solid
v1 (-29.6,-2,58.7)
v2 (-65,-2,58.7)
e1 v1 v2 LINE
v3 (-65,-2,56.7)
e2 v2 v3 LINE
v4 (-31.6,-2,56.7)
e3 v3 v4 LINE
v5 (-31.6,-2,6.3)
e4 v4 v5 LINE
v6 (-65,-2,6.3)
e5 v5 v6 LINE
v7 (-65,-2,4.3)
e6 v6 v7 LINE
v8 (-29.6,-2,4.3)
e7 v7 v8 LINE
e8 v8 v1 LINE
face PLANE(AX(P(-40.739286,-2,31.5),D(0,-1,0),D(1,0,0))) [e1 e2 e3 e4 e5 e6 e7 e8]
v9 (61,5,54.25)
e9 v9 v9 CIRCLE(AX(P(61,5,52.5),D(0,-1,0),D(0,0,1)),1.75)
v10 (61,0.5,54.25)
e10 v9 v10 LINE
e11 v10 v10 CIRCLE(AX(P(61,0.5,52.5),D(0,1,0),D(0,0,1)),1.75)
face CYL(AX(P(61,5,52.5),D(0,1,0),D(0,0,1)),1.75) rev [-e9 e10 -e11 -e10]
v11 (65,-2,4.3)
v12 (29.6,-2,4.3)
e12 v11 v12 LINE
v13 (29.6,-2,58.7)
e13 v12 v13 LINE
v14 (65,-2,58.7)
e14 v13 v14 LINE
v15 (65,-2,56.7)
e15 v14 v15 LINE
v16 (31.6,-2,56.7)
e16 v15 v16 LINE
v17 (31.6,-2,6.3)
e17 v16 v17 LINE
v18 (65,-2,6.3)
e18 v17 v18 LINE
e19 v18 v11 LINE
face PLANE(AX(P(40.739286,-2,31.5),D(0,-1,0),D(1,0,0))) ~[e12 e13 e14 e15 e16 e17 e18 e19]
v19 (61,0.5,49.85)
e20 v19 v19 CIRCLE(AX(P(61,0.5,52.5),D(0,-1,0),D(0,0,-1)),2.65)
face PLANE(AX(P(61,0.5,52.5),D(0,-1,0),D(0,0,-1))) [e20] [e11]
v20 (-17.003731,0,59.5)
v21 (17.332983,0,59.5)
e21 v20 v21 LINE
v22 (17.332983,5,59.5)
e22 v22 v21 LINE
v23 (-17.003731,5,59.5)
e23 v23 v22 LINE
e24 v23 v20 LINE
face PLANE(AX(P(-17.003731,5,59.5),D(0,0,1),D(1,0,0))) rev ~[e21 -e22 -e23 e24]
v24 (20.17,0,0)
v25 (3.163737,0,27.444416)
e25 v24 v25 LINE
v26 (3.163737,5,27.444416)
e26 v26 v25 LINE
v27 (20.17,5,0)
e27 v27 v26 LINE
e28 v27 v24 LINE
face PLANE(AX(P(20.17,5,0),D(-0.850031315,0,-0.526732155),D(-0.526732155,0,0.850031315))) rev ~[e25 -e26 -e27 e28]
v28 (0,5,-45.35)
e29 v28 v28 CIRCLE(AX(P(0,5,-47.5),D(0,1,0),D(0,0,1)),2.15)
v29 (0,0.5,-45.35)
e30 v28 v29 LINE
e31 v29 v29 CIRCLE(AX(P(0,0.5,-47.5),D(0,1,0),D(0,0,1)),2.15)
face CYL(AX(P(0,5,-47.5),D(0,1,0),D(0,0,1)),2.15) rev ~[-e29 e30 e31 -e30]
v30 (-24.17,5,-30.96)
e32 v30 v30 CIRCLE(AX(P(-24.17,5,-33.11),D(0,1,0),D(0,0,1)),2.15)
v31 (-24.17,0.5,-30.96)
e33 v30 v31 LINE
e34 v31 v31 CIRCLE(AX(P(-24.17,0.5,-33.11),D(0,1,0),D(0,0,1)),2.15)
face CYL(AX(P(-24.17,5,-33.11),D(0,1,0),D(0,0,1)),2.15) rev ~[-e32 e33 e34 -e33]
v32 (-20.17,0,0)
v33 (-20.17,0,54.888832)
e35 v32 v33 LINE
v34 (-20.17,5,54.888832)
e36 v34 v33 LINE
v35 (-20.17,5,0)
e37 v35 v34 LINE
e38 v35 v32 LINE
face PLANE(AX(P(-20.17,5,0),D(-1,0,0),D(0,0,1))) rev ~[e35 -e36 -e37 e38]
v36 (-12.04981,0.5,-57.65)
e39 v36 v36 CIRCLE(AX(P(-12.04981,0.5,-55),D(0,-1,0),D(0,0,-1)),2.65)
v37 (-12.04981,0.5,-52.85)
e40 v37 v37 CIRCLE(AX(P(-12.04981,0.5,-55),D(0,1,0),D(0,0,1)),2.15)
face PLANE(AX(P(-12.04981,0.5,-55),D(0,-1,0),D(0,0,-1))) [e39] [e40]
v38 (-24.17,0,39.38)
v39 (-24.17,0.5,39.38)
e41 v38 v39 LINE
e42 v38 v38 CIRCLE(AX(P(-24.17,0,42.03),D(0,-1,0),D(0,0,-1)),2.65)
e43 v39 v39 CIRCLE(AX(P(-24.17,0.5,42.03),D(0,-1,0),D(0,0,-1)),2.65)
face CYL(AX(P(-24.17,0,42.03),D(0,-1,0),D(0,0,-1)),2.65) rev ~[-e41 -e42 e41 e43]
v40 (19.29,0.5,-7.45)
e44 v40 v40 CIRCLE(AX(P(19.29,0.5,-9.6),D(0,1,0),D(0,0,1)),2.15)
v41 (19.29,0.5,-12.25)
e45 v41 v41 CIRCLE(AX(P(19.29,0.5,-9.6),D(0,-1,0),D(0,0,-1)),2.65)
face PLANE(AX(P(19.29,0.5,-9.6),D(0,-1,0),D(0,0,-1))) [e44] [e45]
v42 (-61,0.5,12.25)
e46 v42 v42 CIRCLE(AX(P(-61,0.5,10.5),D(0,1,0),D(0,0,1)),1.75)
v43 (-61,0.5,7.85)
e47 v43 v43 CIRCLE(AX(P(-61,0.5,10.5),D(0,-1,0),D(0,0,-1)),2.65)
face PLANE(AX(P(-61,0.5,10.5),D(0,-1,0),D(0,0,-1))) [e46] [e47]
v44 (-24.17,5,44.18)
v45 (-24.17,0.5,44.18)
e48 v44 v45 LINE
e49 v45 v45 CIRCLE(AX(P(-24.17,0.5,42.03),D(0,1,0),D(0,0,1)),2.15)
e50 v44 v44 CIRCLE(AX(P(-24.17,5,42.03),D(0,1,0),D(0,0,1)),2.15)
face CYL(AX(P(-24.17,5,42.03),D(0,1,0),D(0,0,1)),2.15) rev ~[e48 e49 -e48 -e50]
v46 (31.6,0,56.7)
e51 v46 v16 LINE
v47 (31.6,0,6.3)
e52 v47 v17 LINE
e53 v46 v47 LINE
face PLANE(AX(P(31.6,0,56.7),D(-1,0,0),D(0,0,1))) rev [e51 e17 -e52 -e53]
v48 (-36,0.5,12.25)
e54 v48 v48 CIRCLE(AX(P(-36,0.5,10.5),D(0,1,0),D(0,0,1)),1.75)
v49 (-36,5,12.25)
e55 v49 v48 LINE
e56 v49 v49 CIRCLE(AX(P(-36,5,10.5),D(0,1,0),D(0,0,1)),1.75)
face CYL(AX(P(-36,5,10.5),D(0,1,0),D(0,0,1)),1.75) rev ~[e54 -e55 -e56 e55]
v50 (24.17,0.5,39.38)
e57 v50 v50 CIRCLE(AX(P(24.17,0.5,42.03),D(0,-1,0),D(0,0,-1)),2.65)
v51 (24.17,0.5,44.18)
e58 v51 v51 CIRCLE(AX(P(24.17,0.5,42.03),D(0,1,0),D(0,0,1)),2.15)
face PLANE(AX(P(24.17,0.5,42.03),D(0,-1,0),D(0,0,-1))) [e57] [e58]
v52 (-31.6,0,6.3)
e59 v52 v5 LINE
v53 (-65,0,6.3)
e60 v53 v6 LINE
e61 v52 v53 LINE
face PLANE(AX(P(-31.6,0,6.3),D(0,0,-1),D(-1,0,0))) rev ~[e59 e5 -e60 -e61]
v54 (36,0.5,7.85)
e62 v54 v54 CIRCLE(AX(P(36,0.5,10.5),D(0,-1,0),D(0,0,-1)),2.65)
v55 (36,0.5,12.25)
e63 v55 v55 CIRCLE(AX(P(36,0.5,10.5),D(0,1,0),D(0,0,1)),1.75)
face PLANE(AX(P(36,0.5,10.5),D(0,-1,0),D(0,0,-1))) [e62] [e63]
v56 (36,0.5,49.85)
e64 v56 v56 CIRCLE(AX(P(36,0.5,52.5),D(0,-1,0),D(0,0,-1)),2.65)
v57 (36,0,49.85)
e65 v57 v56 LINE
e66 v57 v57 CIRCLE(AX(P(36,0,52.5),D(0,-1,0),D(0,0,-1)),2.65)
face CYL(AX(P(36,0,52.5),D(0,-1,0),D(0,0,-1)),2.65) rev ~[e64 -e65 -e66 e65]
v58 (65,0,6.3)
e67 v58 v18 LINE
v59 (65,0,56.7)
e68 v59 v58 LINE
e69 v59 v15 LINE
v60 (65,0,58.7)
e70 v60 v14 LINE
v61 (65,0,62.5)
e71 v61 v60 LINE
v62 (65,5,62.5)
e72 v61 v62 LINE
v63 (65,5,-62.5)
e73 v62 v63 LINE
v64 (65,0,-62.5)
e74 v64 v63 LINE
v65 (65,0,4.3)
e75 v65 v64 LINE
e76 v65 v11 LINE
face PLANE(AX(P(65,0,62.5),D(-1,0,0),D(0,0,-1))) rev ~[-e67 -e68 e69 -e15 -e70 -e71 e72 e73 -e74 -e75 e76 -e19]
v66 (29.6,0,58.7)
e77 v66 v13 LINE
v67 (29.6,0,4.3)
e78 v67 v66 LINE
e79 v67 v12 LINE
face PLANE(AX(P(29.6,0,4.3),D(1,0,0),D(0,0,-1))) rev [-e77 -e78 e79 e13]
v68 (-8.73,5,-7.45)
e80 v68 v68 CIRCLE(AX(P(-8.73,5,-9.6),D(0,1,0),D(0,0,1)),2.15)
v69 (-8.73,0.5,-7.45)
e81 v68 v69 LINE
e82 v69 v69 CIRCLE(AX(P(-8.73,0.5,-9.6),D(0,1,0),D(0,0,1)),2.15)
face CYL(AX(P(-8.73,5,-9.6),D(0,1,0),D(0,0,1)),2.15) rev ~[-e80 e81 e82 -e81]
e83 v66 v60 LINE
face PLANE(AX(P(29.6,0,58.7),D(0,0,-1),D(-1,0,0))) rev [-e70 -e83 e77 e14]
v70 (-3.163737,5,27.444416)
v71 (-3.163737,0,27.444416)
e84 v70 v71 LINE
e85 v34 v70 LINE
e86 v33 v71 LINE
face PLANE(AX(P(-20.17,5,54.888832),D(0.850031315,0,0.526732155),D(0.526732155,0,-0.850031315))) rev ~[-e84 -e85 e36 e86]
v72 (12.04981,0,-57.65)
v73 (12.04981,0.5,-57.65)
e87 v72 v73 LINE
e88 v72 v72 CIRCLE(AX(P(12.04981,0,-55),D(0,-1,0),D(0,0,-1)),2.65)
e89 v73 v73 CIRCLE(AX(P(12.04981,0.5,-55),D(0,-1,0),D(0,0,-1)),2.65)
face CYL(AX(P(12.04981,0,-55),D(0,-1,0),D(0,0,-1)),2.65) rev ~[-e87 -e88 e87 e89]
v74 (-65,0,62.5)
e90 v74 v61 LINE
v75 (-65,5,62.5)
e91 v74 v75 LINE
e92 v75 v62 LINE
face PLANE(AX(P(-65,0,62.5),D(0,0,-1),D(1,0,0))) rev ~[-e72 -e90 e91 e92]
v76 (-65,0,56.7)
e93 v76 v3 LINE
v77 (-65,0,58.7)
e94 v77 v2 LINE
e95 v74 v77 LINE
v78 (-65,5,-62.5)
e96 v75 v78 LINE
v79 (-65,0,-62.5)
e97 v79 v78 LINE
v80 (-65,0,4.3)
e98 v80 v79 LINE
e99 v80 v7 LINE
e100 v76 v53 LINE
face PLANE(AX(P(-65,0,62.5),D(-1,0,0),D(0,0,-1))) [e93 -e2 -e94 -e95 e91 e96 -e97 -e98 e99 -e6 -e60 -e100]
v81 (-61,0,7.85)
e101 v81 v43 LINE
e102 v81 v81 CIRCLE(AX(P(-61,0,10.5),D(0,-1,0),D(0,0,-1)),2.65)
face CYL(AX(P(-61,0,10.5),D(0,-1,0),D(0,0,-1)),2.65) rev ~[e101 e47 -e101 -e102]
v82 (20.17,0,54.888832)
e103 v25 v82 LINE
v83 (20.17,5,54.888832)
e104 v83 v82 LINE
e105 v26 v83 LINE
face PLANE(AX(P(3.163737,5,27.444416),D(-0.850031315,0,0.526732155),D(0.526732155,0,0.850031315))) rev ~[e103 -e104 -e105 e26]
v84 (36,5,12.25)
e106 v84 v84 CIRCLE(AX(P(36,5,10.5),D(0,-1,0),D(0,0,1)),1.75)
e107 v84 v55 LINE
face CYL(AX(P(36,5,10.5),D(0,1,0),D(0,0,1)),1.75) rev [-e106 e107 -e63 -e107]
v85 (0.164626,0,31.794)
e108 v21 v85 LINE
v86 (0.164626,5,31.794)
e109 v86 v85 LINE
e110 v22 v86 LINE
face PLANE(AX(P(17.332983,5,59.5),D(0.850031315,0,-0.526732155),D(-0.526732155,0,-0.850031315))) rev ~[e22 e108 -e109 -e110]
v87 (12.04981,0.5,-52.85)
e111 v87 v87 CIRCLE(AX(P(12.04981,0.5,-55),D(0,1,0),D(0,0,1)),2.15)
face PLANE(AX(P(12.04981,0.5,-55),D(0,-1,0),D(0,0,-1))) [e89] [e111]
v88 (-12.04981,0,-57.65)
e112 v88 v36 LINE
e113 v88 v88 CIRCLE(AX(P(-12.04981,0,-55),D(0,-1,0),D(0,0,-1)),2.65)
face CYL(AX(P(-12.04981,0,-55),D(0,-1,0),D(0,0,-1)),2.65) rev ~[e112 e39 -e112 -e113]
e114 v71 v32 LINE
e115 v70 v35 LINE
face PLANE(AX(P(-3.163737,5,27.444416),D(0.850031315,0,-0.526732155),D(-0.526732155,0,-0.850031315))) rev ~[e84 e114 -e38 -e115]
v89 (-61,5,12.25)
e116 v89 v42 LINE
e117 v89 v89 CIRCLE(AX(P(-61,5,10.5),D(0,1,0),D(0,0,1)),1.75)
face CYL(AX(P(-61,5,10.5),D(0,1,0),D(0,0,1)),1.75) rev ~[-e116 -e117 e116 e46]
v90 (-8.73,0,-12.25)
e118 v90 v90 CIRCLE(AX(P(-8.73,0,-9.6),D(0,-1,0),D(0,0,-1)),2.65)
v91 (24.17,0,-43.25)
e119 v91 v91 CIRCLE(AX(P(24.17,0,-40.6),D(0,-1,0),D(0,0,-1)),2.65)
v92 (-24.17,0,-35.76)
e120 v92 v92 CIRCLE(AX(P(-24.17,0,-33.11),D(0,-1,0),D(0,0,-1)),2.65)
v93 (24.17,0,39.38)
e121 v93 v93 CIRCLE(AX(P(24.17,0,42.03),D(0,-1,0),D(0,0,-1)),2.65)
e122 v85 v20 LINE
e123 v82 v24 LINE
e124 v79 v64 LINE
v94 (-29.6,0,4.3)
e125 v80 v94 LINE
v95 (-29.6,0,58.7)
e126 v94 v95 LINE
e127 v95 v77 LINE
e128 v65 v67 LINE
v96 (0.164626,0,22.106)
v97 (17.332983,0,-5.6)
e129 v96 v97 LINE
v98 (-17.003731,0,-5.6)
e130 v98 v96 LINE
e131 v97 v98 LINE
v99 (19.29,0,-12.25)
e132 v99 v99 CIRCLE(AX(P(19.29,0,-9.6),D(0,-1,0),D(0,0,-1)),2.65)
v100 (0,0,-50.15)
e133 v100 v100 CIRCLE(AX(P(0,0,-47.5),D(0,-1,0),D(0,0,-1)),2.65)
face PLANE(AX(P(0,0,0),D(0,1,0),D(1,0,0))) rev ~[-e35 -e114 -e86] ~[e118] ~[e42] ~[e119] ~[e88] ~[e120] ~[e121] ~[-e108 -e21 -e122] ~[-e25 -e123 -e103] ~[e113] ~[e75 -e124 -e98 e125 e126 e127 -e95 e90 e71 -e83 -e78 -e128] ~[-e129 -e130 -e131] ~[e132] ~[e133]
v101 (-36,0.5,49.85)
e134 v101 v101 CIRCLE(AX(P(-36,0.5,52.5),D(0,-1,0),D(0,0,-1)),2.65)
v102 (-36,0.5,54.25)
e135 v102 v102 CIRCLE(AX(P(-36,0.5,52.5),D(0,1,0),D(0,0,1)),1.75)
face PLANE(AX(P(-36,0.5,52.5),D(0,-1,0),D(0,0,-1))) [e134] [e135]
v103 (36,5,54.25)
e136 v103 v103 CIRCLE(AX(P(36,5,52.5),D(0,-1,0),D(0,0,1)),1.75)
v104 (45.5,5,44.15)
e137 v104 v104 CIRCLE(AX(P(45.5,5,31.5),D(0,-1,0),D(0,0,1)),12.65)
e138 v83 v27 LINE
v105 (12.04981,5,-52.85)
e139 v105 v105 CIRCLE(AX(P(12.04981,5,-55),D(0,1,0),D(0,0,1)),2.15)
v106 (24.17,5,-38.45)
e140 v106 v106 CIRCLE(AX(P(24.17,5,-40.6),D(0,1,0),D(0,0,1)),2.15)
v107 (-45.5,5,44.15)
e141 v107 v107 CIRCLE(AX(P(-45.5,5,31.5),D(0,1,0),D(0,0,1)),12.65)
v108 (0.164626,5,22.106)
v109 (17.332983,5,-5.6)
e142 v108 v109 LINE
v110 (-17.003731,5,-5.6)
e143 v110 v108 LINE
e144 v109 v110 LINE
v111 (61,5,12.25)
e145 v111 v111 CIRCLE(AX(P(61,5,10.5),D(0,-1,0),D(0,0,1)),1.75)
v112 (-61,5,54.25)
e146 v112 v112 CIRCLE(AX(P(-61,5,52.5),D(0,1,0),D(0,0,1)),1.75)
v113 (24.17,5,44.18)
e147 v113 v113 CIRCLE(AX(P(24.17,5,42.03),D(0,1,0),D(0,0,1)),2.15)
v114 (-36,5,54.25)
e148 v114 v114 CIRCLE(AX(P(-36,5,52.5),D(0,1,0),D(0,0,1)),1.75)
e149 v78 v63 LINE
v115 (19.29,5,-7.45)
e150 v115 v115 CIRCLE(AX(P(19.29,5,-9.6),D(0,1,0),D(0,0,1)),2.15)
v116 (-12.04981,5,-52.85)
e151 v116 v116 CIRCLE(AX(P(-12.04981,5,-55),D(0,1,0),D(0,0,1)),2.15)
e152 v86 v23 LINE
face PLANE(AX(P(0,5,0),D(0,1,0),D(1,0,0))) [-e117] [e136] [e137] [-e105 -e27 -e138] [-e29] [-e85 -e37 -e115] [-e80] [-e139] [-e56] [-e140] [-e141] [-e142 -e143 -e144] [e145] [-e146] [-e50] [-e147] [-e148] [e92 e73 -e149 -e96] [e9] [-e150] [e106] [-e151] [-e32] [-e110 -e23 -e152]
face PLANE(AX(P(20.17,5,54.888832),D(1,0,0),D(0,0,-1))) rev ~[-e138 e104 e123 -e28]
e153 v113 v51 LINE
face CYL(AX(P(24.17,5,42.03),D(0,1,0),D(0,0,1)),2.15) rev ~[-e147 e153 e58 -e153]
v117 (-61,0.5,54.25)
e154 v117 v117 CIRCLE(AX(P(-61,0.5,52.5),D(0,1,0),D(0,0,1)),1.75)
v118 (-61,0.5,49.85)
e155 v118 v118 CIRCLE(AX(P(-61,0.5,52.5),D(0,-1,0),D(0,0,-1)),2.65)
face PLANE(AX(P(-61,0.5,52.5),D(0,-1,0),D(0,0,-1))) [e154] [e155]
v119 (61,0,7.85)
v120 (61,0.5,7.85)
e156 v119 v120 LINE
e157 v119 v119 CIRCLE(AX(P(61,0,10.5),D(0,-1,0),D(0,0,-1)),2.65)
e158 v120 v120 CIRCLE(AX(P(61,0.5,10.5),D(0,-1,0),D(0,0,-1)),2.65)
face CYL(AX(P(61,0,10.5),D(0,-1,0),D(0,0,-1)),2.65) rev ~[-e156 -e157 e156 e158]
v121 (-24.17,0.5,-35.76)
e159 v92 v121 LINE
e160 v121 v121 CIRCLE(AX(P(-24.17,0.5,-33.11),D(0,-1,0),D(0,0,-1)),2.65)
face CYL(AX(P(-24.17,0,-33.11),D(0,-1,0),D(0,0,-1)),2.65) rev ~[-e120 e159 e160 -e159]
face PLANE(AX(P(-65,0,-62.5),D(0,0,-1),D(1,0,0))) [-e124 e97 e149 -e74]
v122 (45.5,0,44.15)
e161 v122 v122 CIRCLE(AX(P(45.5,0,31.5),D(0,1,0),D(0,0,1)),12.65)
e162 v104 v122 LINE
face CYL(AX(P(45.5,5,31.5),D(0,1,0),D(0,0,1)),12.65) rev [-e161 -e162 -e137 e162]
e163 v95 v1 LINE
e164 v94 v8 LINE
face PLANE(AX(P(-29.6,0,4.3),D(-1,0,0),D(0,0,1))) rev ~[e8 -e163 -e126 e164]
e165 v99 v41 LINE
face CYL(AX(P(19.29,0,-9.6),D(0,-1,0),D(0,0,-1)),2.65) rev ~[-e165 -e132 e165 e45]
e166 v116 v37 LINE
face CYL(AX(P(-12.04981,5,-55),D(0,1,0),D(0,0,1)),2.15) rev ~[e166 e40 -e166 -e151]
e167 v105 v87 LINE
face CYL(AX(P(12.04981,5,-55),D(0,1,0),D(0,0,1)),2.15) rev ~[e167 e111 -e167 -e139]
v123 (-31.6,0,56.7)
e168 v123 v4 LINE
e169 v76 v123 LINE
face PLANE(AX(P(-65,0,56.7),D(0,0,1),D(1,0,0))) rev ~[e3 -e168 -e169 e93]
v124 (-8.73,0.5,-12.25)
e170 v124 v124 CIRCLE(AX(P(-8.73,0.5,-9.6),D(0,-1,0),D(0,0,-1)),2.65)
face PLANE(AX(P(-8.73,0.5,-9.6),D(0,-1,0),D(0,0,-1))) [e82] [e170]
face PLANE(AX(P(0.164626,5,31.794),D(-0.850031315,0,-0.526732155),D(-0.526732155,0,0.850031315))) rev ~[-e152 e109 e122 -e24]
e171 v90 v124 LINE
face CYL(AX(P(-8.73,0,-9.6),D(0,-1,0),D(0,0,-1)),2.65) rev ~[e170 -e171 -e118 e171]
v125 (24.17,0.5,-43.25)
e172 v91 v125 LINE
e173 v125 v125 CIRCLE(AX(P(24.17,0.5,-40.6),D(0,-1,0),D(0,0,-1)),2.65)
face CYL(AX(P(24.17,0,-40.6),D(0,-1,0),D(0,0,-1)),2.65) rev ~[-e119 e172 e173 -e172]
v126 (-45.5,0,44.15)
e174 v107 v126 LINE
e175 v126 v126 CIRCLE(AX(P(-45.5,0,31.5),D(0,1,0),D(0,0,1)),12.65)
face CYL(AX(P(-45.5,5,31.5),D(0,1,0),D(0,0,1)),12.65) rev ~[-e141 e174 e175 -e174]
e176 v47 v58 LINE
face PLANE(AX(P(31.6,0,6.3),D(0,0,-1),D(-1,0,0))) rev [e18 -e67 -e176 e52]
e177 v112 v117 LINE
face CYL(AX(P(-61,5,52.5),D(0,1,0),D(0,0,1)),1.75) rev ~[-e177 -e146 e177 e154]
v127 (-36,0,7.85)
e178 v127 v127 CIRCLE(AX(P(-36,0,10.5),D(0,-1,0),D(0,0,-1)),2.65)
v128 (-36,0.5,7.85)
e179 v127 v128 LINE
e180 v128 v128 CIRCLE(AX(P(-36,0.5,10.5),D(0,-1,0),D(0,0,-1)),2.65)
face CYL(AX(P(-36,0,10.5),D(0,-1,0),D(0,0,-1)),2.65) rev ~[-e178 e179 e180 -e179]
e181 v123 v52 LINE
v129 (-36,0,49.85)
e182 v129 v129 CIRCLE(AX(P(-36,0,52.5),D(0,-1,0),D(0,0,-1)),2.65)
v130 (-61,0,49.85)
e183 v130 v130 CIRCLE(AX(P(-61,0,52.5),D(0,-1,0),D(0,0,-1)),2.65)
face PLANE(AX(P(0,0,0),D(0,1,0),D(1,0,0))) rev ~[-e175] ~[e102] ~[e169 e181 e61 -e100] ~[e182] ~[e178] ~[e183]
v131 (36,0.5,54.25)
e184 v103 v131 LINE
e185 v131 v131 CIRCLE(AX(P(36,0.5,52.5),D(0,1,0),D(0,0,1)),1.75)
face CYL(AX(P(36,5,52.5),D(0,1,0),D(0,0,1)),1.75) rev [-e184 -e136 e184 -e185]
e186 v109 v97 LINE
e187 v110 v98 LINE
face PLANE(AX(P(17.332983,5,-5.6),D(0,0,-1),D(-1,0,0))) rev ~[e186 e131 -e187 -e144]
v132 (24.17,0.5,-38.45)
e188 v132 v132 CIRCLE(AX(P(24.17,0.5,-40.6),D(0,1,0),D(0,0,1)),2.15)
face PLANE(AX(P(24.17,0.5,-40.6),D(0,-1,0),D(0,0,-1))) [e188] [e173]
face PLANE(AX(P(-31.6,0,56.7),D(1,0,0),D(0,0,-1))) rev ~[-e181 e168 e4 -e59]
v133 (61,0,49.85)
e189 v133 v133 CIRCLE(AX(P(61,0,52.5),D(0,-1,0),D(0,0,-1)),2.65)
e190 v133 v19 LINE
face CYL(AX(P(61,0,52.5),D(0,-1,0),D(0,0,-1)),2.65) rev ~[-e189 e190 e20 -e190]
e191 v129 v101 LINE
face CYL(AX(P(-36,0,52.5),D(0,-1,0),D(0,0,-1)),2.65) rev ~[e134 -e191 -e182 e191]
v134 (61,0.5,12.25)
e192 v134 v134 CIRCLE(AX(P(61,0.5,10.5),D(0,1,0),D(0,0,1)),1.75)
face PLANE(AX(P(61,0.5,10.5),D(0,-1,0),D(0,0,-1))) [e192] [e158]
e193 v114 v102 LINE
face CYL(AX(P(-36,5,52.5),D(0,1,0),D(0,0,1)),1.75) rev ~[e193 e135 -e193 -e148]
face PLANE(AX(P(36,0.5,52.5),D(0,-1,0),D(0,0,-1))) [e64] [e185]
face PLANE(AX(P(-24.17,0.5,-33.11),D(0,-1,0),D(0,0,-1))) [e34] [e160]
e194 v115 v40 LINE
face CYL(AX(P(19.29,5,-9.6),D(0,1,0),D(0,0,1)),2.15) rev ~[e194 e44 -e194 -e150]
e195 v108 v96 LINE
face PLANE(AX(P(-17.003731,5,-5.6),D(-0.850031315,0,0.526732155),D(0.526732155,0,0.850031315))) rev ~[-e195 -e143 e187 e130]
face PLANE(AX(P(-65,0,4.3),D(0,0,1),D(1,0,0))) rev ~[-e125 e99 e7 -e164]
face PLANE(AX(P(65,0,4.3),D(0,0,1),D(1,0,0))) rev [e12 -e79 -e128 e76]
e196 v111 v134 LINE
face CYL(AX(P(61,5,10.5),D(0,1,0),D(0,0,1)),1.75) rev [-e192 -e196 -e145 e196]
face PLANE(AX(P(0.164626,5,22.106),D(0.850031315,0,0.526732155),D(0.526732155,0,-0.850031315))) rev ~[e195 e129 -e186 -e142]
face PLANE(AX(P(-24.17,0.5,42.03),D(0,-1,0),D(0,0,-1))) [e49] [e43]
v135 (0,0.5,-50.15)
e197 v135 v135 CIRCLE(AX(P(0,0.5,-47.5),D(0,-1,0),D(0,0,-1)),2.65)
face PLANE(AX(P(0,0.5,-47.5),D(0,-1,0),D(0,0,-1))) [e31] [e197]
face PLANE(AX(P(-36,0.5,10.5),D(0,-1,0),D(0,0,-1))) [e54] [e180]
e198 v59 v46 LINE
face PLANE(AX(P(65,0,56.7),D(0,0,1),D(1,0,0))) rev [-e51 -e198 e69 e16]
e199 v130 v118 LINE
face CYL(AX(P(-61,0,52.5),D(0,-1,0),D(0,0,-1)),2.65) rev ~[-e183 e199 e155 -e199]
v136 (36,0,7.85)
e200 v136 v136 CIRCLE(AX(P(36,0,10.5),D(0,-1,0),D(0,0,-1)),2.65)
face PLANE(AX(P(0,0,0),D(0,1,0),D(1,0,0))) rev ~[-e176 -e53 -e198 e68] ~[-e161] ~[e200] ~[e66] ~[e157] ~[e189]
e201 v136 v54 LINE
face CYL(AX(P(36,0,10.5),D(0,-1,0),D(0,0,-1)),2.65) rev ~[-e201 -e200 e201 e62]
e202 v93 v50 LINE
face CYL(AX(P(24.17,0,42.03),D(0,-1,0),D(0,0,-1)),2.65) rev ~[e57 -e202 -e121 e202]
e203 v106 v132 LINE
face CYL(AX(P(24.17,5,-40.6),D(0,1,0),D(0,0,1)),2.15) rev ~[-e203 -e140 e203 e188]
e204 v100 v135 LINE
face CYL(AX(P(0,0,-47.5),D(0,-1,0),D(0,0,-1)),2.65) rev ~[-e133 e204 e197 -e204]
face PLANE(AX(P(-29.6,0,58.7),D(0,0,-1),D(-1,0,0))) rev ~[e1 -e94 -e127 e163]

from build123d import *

# Parameters (mm, degrees)
SKETCH1_W           = 130
SKETCH1_H           = 125
BOSS_EXTRUDE1_DEPTH = 5
SKETCH2_R           = 1.75
SKETCH2_R_2         = 12.65
CUT_EXTRUDE1_DEPTH  = 10
SKETCH3_R           = 2.15
CUT_EXTRUDE2_DEPTH  = 10
SKETCH4_R           = 2.15
CUT_EXTRUDE3_DEPTH  = 10
BOSS_EXTRUDE2_DEPTH = 2
SKETCH6_R           = 2.65
CUT_EXTRUDE5_DEPTH  = 0.5
CUT_EXTRUDE7_DEPTH  = 91.444734507


with BuildPart() as part:
    # Sketch1 → Boss-Extrude1 (new body)
    with BuildSketch(Plane(origin=(0, 0, 0), x_dir=(1, 0, 0), z_dir=(0, 1, 0))):
        Rectangle(SKETCH1_W, SKETCH1_H)
    extrude(amount=BOSS_EXTRUDE1_DEPTH)

    # Sketch2 → Cut-Extrude1 (cut)
    with BuildSketch(Plane(origin=(0, 5, 0), x_dir=(1, 0, 0), z_dir=(0, 1, 0))):
        with Locations(Location((-61, -52.5, 0), (0, 0, 270))):
            Circle(SKETCH2_R)
        with Locations(Location((-36, -52.5, 0), (0, 0, 270))):
            Circle(SKETCH2_R)
        with Locations(Location((-36, -10.5, 0), (0, 0, 270))):
            Circle(SKETCH2_R)
        with Locations(Location((-61, -10.5, 0), (0, 0, 270))):
            Circle(SKETCH2_R)
        with Locations(Location((-45.5, -31.5, 0), (0, 0, 270))):
            Circle(SKETCH2_R_2)
    cut_extrude1 = extrude(amount=-CUT_EXTRUDE1_DEPTH, mode=Mode.SUBTRACT)

    # Mirror3: Cut-Extrude1 across plane
    add(cut_extrude1.mirror(Plane.ZY), mode=Mode.SUBTRACT)

    # Sketch3 → Cut-Extrude2 (cut)
    with BuildSketch(Plane(origin=(0, 5, 0), x_dir=(1, 0, 0), z_dir=(0, 1, 0))):
        with Locations(Location((-24.17, -42.03, 0), (0, 0, 270))):
            Circle(SKETCH3_R)
        with Locations(Location((24.17, -42.03, 0), (0, 0, 270))):
            Circle(SKETCH3_R)
        with Locations(Location((-8.73, 9.6, 0), (0, 0, 270))):
            Circle(SKETCH3_R)
        with Locations(Location((19.29, 9.6, 0), (0, 0, 270))):
            Circle(SKETCH3_R)
        with Locations(Location((-24.17, 33.11, 0), (0, 0, 270))):
            Circle(SKETCH3_R)
        with Locations(Location((24.17, 40.6, 0), (0, 0, 270))):
            Circle(SKETCH3_R)
    extrude(amount=-CUT_EXTRUDE2_DEPTH, mode=Mode.SUBTRACT)

    # Sketch4 → Cut-Extrude3 (cut)
    with BuildSketch(Plane(origin=(0, 5, 0), x_dir=(1, 0, 0), z_dir=(0, 1, 0))):
        with Locations(Location((0, 47.5, 0), (0, 0, 270))):
            Circle(SKETCH4_R)
        with Locations(Location((12.049810205, 55, 0), (0, 0, 270))):
            Circle(SKETCH4_R)
        with Locations(Location((-12.049810205, 55, 0), (0, 0, 270))):
            Circle(SKETCH4_R)
    extrude(amount=-CUT_EXTRUDE3_DEPTH, mode=Mode.SUBTRACT)

    # Sketch5 → Boss-Extrude2 (add)
    with BuildSketch(Plane.XZ):
        Polygon((-65, 58.7), (-65, 56.7), (-31.6, 56.7), (-31.6, 6.3), (-65, 6.3), (-65, 4.3), (-29.6, 4.3), (-29.6, 58.7), align=None)
    boss_extrude2 = extrude(amount=BOSS_EXTRUDE2_DEPTH)

    # Mirror6: Boss-Extrude2 across plane
    add(boss_extrude2.mirror(Plane.ZY))

    # Sketch6 → Cut-Extrude5 (cut)
    with BuildSketch(Plane.XZ):
        with Locations(Location((-8.73, -9.6, 0), (0, 0, 270))):
            Circle(SKETCH6_R)
        with Locations(Location((19.29, -9.6, 0), (0, 0, 270))):
            Circle(SKETCH6_R)
        with Locations(Location((-24.17, -33.11, 0), (0, 0, 270))):
            Circle(SKETCH6_R)
        with Locations(Location((24.17, -40.6, 0), (0, 0, 270))):
            Circle(SKETCH6_R)
        with Locations(Location((0, -47.5, 0), (0, 0, 270))):
            Circle(SKETCH6_R)
        with Locations(Location((-12.049810205, -55, 0), (0, 0, 270))):
            Circle(SKETCH6_R)
        with Locations(Location((12.049810205, -55, 0), (0, 0, 270))):
            Circle(SKETCH6_R)
        with Locations(Location((-61, 10.5, 0), (0, 0, 270))):
            Circle(SKETCH6_R)
        with Locations(Location((-36, 10.5, 0), (0, 0, 270))):
            Circle(SKETCH6_R)
        with Locations(Location((-36, 52.5, 0), (0, 0, 270))):
            Circle(SKETCH6_R)
        with Locations(Location((-61, 52.5, 0), (0, 0, 270))):
            Circle(SKETCH6_R)
        with Locations(Location((36, 52.5, 0), (0, 0, 270))):
            Circle(SKETCH6_R)
        with Locations(Location((36, 10.5, 0), (0, 0, 270))):
            Circle(SKETCH6_R)
        with Locations(Location((61, 10.5, 0), (0, 0, 270))):
            Circle(SKETCH6_R)
        with Locations(Location((61, 52.5, 0), (0, 0, 270))):
            Circle(SKETCH6_R)
        with Locations(Location((-24.17, 42.03, 0), (0, 0, 270))):
            Circle(SKETCH6_R)
        with Locations(Location((24.17, 42.03, 0), (0, 0, 270))):
            Circle(SKETCH6_R)
    extrude(amount=-CUT_EXTRUDE5_DEPTH, mode=Mode.SUBTRACT)

    # Sketch7 → Cut-Extrude7 (cut, through all)
    with BuildSketch(Plane(origin=(0, 5, 0), x_dir=(1, 0, 0), z_dir=(0, 1, 0))):
        Polygon((-3.163736655, -27.444416058), (-20.17, 0), (-20.17, -54.888832116), align=None)
        Polygon((17.332982786, 5.6), (-17.003730784, 5.6), (0.164626001, -22.10599967), align=None)
        Polygon((20.17, -54.888832116), (20.17, 0), (3.163736655, -27.444416058), align=None)
        Polygon((0.164626001, -31.79400033), (-17.003730784, -59.5), (17.332982786, -59.5), align=None)
    extrude(amount=-CUT_EXTRUDE7_DEPTH, mode=Mode.SUBTRACT)


solid = part.part
